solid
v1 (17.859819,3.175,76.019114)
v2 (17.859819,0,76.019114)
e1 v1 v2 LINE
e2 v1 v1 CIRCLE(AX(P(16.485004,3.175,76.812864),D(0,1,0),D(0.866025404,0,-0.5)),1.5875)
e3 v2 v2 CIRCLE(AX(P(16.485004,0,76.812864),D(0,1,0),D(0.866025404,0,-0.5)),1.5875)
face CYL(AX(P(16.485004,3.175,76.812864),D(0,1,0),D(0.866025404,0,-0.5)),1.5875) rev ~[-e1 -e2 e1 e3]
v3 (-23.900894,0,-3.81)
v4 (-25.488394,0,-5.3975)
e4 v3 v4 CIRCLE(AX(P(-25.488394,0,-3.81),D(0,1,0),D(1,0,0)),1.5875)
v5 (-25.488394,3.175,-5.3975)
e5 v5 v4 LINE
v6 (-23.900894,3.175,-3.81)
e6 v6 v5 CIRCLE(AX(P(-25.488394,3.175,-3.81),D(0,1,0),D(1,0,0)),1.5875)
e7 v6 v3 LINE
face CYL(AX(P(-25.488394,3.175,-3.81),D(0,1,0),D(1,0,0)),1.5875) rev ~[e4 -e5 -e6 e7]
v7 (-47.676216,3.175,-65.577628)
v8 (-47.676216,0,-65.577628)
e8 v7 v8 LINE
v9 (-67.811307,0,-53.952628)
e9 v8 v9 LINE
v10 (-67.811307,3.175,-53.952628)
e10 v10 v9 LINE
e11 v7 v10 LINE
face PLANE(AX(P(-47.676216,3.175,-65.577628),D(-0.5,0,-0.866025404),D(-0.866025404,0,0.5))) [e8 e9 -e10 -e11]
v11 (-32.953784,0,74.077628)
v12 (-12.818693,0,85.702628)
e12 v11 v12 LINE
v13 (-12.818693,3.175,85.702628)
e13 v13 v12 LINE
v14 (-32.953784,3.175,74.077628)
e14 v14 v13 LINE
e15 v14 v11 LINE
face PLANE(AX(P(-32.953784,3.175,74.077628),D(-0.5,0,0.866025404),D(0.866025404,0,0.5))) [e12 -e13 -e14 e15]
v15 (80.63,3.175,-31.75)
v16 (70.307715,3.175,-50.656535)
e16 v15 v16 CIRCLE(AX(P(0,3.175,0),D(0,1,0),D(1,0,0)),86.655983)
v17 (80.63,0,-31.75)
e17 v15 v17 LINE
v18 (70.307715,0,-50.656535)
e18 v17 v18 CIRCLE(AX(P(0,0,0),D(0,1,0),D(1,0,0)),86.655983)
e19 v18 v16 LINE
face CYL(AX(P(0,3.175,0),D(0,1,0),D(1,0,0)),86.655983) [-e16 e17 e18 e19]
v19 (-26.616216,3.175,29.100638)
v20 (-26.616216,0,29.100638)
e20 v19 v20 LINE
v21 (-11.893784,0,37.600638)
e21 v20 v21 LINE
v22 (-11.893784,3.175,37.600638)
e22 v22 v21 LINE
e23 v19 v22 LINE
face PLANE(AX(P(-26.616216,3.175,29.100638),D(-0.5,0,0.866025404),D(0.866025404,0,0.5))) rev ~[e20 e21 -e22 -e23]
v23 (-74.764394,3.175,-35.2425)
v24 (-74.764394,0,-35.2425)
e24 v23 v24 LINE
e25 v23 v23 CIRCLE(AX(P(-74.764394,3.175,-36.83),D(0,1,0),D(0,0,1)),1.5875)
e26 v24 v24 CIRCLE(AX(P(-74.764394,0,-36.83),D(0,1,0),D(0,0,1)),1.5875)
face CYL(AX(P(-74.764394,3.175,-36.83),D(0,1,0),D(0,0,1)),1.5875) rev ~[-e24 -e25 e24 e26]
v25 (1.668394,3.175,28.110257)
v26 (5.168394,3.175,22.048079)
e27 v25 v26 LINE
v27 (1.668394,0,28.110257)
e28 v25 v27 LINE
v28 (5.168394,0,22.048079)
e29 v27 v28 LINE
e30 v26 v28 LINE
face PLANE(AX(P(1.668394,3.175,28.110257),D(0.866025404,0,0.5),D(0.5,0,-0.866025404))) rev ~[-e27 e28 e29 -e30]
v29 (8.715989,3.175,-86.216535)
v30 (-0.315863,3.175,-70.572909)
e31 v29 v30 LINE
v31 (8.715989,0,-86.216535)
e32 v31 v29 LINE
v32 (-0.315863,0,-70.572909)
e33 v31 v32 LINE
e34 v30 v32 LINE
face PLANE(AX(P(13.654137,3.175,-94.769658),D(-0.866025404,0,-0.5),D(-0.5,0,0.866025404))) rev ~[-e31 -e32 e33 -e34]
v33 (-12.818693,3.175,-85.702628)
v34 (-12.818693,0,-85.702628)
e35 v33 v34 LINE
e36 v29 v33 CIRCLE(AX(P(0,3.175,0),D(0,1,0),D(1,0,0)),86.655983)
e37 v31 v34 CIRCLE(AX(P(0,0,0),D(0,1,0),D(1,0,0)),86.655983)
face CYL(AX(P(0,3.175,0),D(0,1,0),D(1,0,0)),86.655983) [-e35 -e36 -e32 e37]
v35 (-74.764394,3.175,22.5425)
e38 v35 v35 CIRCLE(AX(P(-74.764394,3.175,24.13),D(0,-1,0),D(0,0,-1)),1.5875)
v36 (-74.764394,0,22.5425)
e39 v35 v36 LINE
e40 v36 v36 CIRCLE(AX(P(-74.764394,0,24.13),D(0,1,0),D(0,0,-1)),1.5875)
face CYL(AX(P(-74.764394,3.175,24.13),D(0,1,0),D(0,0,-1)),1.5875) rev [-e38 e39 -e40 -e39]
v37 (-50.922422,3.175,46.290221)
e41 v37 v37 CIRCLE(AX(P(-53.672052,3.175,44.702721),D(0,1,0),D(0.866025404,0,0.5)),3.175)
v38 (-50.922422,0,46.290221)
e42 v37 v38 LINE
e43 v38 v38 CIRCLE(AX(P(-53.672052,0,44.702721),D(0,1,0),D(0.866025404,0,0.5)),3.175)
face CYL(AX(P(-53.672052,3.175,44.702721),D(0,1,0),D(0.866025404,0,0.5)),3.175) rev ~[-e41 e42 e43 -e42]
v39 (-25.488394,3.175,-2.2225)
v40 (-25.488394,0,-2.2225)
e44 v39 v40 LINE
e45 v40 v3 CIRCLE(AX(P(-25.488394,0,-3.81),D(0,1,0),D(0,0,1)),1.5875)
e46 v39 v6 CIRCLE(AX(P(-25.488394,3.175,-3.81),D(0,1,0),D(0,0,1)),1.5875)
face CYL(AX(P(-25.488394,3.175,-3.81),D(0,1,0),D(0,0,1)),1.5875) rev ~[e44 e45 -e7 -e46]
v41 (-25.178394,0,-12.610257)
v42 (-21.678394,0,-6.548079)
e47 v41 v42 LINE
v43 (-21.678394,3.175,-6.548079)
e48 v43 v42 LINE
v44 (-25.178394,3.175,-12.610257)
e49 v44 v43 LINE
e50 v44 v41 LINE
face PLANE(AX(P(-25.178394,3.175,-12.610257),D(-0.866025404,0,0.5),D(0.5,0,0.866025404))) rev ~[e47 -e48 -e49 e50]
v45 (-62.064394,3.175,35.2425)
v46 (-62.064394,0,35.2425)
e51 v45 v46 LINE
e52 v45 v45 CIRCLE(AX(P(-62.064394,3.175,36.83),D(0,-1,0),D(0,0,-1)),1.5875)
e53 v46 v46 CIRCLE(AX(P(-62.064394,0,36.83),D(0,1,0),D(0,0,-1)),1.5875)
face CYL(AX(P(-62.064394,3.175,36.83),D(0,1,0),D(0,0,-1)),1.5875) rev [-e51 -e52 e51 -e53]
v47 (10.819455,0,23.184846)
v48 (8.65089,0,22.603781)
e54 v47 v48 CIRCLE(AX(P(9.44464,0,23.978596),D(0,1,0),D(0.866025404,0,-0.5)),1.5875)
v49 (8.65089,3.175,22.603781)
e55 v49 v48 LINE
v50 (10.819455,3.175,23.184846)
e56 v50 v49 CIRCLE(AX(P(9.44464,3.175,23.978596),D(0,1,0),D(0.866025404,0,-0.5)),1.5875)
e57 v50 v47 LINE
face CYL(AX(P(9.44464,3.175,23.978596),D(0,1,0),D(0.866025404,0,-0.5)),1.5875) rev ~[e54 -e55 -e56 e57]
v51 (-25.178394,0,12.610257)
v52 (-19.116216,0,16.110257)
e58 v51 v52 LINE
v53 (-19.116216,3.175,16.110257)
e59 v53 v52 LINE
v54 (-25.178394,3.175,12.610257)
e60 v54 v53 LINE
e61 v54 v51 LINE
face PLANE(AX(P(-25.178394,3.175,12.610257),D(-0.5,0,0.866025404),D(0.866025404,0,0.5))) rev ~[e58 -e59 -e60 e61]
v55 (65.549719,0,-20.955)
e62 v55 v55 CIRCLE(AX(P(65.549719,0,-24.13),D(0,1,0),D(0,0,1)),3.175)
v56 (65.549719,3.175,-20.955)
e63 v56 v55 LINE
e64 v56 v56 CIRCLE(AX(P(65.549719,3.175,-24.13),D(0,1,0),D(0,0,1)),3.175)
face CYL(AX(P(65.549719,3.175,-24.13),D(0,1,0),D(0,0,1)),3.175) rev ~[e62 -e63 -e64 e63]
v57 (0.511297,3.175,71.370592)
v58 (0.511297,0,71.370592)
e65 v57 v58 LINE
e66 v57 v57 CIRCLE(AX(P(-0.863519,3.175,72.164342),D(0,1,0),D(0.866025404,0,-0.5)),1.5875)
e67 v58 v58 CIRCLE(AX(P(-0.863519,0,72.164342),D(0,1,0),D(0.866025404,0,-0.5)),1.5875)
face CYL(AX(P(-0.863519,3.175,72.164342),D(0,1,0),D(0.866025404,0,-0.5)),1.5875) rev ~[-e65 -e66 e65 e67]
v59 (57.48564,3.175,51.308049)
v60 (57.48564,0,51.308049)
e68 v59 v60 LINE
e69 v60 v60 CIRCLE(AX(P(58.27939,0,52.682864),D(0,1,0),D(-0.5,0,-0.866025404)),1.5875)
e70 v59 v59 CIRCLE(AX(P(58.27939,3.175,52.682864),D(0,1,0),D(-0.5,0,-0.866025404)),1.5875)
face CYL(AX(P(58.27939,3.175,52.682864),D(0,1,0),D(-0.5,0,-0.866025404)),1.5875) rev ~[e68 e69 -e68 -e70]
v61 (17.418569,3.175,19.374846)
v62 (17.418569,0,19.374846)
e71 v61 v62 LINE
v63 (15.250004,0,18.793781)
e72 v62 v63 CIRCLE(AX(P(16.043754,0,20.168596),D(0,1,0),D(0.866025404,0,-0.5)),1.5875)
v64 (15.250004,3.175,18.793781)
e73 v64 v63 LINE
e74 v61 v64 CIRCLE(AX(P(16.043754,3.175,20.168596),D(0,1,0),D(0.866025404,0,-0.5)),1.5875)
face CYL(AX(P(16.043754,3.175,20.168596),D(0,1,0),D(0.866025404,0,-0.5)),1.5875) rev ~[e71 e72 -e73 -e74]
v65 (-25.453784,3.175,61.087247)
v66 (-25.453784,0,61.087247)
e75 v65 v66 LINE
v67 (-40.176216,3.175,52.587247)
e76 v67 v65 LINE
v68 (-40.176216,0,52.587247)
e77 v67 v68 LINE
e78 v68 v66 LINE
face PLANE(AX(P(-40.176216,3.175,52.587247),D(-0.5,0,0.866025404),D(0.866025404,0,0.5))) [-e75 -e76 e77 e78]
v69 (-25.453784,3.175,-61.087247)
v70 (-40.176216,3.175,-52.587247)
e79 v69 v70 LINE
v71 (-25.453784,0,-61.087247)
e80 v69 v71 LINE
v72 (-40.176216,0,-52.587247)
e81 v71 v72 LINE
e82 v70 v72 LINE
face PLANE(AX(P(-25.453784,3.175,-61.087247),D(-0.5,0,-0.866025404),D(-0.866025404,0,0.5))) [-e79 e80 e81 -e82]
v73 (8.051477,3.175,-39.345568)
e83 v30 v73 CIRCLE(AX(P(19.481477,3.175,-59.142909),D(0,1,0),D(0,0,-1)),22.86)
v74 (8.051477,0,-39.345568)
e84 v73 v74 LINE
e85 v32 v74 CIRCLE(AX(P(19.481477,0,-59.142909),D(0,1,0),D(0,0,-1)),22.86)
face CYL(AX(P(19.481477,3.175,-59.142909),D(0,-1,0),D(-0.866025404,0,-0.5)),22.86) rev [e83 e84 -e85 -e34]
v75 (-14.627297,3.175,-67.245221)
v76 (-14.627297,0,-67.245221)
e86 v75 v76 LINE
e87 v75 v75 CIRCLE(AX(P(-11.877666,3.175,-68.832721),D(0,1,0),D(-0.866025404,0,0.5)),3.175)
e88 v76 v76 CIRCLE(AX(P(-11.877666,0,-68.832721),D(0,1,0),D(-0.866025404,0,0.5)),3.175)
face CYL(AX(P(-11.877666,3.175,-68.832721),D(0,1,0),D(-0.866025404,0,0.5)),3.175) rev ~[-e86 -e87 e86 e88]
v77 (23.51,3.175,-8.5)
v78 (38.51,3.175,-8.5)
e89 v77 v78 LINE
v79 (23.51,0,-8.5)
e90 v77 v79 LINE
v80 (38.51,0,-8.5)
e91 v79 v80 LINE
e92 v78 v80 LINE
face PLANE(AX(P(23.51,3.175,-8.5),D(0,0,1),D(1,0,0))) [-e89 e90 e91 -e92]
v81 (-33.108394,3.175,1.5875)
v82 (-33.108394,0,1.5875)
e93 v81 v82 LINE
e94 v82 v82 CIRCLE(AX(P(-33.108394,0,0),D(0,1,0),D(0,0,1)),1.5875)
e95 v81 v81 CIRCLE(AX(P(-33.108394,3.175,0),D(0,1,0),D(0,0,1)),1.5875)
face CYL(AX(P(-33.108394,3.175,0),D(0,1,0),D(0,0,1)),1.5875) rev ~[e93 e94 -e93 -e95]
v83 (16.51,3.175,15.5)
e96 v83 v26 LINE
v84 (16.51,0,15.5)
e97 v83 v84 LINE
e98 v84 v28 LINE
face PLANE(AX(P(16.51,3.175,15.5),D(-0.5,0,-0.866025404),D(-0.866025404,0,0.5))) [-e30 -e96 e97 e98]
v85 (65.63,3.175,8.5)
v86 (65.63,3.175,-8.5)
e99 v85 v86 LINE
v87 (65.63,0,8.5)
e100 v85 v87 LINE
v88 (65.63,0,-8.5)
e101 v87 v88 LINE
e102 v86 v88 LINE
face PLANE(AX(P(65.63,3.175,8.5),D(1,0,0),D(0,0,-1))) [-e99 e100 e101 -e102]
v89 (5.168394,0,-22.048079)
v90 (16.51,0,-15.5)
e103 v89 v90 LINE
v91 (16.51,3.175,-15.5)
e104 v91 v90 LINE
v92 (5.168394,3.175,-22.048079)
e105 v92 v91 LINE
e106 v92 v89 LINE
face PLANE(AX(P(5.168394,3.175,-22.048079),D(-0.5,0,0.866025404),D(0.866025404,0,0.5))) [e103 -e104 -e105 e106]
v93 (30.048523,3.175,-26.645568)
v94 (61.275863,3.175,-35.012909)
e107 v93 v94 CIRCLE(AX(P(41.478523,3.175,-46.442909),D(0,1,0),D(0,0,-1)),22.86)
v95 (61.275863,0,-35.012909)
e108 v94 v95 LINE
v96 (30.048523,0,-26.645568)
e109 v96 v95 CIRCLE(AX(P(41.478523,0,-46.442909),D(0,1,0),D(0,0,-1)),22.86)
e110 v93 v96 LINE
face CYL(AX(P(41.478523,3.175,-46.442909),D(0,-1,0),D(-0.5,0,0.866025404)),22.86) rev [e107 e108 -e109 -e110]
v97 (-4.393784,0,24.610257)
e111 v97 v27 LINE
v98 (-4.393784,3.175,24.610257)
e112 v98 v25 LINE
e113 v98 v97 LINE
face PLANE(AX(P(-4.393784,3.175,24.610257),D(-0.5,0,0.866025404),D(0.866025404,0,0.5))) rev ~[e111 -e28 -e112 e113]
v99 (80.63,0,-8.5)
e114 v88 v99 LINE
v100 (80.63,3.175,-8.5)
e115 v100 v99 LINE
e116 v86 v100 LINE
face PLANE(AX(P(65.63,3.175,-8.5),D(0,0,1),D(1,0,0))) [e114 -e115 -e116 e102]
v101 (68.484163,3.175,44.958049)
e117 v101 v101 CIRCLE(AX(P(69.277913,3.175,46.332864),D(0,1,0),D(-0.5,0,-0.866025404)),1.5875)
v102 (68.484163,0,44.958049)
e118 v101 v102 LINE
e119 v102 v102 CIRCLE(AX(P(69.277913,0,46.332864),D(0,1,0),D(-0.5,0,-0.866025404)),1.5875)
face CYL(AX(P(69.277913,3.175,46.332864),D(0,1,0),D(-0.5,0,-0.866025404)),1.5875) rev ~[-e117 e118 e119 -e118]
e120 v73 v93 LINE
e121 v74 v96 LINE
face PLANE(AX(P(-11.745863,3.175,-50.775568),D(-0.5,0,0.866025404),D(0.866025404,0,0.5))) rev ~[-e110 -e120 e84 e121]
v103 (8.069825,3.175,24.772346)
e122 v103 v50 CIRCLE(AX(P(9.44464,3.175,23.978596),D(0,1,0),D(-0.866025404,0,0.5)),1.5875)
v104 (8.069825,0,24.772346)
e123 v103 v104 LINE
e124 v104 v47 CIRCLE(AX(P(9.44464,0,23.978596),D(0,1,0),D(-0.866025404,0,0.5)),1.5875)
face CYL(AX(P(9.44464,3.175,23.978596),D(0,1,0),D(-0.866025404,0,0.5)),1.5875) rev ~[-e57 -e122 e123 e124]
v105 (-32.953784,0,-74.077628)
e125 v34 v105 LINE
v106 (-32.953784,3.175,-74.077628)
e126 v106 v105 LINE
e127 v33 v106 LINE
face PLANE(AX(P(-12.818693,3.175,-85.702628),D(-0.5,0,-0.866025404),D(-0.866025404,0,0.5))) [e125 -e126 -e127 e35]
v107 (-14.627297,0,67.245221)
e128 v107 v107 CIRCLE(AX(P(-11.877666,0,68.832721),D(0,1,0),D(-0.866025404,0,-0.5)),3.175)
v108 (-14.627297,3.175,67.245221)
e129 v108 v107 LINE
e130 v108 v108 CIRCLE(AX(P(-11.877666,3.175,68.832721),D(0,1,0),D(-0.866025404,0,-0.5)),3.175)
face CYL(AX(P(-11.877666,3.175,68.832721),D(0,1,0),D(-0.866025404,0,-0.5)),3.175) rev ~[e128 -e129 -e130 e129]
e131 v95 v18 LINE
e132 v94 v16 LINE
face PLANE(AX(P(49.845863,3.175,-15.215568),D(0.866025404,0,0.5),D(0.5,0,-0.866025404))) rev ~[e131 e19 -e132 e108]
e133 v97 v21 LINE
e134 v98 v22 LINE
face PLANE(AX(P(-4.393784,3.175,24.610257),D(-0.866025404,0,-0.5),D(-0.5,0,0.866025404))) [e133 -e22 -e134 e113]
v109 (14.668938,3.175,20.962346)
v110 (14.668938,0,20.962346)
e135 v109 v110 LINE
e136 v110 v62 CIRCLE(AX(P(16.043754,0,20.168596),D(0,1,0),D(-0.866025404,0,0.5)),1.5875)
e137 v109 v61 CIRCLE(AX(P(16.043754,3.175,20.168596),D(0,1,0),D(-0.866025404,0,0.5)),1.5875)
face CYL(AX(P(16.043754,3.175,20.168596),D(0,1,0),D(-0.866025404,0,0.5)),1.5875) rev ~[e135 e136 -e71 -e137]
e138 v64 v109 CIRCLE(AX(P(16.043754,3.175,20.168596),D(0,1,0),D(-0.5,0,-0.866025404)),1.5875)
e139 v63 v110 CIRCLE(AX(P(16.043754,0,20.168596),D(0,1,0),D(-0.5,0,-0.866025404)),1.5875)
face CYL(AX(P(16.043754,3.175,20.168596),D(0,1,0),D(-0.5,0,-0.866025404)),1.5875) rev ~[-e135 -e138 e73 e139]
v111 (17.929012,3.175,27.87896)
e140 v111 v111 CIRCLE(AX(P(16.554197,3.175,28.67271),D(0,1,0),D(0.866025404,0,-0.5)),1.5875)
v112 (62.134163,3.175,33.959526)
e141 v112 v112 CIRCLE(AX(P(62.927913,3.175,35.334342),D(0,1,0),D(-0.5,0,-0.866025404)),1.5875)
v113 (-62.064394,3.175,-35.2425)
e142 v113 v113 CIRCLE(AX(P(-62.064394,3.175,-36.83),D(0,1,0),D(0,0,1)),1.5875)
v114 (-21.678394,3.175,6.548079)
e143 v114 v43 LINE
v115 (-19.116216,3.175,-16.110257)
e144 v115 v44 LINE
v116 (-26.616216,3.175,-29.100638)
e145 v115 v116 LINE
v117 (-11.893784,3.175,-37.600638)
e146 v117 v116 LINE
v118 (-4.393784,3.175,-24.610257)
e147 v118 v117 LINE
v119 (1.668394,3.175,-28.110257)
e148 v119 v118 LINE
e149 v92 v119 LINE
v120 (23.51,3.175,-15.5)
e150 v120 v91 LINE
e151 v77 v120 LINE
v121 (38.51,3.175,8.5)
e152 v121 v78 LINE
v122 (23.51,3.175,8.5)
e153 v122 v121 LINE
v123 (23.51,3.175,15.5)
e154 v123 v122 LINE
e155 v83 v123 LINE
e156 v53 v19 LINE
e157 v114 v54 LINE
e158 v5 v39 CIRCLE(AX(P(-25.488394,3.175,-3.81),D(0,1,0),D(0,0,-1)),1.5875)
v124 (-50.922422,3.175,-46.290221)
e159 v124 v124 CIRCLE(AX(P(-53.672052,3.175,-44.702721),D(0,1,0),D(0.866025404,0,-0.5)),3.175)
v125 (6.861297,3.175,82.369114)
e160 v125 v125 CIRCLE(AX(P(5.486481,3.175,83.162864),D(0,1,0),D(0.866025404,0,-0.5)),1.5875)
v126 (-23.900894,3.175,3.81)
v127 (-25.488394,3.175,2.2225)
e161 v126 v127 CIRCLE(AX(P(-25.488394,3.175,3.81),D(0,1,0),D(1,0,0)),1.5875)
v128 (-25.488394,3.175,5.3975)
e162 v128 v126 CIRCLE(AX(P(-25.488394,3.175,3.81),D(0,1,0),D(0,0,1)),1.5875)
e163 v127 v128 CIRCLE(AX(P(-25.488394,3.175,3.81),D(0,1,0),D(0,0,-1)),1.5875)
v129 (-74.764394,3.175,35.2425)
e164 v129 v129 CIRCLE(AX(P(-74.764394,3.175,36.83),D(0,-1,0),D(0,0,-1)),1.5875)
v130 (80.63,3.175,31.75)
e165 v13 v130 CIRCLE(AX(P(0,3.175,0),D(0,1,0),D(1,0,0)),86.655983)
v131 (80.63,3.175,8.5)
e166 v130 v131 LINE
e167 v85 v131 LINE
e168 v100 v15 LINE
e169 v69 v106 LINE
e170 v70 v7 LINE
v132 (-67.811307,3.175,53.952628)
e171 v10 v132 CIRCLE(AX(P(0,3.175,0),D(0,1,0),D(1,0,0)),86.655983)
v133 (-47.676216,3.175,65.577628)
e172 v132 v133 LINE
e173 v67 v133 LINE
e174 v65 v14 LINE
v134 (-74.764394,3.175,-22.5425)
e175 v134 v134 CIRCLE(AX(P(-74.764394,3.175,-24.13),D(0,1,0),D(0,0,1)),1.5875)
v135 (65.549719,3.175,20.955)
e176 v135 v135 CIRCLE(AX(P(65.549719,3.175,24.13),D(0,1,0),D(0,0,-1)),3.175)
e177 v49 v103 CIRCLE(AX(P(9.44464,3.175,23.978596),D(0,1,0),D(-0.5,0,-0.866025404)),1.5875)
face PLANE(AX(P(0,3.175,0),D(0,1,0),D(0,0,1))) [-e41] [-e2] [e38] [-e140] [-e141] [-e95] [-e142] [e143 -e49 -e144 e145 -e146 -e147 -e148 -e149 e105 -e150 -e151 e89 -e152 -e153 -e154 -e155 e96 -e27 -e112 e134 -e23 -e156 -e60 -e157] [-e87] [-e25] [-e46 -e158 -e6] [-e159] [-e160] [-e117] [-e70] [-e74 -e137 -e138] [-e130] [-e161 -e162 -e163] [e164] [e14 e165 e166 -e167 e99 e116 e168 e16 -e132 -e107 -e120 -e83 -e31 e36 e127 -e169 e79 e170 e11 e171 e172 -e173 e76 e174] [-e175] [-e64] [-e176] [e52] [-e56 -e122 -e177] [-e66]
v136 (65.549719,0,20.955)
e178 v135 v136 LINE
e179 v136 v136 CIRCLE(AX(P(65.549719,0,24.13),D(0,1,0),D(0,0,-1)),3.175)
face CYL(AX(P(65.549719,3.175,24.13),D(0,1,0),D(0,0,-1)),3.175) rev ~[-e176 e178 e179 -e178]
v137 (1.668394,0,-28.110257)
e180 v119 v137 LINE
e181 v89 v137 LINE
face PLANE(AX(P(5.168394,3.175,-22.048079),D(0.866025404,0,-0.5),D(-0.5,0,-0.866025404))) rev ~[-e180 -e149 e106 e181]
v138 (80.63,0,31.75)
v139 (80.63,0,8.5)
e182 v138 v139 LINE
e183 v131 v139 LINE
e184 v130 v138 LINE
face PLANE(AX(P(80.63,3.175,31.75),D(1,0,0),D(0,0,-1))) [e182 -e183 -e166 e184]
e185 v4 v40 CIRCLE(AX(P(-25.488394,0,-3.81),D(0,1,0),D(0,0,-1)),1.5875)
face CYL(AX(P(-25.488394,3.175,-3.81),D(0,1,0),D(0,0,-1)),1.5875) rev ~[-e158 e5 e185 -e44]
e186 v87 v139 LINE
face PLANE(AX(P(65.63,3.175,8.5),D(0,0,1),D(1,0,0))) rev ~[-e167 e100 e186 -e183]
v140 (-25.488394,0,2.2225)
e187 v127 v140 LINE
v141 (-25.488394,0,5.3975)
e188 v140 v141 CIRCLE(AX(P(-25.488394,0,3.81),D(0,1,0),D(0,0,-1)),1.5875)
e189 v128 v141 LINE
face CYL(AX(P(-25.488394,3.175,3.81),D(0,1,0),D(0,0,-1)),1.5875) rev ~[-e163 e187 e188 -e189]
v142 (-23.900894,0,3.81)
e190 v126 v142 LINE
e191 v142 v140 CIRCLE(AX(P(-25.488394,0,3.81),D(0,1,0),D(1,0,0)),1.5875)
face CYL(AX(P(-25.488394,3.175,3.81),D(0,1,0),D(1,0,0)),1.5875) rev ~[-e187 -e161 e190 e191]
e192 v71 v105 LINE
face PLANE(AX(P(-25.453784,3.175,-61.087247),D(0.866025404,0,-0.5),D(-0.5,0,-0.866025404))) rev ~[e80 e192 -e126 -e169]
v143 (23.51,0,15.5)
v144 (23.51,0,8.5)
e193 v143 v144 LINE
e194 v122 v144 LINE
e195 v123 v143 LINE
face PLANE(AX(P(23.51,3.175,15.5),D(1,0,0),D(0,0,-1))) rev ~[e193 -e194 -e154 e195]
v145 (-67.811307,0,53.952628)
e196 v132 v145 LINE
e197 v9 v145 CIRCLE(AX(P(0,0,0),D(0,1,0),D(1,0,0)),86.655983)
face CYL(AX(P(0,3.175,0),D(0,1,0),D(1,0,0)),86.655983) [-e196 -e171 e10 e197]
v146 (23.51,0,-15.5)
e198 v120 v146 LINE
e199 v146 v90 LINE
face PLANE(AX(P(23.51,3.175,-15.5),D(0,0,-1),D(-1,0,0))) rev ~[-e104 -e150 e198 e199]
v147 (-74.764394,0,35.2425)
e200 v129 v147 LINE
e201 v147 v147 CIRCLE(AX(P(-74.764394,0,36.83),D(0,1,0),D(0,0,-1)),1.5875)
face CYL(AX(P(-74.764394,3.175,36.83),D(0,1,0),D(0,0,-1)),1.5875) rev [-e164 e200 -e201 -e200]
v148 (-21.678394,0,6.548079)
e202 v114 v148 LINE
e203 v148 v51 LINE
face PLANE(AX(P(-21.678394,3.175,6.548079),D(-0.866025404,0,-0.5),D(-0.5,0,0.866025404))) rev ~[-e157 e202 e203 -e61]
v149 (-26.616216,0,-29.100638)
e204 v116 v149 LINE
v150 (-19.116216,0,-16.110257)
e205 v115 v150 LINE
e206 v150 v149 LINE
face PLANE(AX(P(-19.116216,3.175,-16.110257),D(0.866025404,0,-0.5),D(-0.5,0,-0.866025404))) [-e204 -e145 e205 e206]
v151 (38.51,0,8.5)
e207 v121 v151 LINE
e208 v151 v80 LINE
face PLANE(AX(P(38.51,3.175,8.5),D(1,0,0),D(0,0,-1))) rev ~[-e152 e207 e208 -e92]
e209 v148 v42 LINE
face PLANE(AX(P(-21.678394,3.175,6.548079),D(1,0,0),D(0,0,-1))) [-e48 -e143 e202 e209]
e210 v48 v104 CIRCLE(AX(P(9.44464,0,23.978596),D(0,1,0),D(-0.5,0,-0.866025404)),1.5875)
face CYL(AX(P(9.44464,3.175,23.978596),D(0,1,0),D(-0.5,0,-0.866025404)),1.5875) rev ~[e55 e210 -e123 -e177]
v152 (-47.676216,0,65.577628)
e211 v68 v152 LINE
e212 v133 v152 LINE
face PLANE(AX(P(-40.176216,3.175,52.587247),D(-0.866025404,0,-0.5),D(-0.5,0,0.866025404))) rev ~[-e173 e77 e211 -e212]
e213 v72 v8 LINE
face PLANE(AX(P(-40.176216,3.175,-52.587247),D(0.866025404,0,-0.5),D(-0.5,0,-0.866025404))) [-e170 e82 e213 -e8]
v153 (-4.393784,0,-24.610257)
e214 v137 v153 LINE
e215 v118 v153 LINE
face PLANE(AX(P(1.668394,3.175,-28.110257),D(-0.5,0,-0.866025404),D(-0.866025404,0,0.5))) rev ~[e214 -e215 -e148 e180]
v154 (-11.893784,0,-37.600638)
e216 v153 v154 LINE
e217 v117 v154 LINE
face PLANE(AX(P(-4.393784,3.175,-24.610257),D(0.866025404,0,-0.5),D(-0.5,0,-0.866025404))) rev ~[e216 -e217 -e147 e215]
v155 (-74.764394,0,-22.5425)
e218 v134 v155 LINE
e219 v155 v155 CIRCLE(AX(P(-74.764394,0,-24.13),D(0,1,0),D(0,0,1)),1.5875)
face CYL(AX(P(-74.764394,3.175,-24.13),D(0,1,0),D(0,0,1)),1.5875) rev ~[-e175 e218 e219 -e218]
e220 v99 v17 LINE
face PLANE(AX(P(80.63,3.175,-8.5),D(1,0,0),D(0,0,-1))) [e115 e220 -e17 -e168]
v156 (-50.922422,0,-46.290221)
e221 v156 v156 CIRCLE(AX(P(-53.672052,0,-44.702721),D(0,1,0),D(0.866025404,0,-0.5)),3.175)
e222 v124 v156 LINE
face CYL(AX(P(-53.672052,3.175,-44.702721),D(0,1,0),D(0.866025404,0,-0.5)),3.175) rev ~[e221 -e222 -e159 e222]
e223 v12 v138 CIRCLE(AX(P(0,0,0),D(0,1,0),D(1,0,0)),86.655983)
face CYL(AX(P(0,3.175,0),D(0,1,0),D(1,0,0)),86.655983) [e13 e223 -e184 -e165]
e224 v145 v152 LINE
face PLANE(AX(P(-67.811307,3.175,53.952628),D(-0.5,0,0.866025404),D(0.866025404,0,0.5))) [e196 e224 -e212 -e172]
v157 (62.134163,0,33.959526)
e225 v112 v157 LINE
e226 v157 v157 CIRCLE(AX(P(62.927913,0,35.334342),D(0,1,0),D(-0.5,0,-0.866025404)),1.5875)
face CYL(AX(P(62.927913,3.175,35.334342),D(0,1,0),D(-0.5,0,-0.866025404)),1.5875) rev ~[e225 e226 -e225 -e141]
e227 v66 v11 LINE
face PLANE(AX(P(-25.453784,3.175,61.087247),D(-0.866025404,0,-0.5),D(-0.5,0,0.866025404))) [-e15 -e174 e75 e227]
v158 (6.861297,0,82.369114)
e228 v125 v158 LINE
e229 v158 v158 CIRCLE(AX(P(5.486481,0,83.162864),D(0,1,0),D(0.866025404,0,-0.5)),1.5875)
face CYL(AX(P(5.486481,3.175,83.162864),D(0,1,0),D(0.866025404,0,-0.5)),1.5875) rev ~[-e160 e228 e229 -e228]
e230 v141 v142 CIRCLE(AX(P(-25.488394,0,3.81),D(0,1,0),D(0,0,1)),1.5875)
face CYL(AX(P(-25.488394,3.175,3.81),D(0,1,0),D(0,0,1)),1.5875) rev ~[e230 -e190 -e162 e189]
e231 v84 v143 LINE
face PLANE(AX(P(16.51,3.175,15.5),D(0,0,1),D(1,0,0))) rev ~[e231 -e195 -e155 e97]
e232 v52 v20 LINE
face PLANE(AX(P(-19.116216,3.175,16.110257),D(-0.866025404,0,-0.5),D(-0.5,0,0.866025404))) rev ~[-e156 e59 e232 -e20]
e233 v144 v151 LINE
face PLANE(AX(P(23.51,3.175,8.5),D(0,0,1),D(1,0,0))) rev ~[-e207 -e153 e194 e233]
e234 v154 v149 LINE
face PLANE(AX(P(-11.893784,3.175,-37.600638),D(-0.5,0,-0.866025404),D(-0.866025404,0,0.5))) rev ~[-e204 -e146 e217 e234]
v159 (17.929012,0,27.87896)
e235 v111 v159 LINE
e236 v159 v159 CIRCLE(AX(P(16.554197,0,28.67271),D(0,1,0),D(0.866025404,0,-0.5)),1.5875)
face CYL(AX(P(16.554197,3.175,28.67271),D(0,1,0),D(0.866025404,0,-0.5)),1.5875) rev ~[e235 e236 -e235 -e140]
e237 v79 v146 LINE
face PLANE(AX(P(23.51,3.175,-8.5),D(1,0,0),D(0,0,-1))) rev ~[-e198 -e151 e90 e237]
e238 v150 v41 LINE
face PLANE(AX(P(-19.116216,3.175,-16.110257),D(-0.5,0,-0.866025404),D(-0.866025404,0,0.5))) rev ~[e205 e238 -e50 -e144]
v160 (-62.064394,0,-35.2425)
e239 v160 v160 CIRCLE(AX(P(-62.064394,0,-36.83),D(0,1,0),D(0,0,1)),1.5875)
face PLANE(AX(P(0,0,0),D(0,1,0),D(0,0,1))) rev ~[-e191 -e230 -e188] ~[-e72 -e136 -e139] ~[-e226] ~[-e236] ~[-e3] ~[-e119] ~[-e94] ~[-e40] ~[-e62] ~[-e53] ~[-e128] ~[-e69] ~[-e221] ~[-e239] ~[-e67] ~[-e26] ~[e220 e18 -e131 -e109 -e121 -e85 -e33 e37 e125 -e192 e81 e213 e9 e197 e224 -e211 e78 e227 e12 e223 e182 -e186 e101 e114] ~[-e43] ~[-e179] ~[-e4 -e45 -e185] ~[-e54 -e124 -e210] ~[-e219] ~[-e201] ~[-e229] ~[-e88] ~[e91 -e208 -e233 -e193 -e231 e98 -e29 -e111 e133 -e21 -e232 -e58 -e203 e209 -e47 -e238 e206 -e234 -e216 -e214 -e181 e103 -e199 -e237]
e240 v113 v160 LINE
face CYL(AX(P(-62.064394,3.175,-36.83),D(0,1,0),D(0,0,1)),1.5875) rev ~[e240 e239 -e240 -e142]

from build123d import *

# Parameters (mm, degrees)
SKETCH2_R                   = 88.9
BOSS_EXTRUDE1_DEPTH         = 3.175
SKETCH4_W                   = 15
SKETCH4_H                   = 17
SKETCH4_W_2                 = 21.412198496
SKETCH4_H_2                 = 63.5
CUT_EXTRUDE2_DEPTH          = 126.763669734
CIRPATTERN1_COUNT           = 3
CUT_EXTRUDE3_DEPTH          = 126.763669734
SKETCH8_R                   = 94.275983059
SKETCH8_R_2                 = 86.655983059
CUT_EXTRUDE_THIN1_DEPTH     = 126.763669734
SKETCH9_R                   = 3.175
CUT_EXTRUDE4_DEPTH          = 123.591188203
CIRPATTERN2_COUNT           = 3
SKETCH11_R                  = 1.5875
CUT_EXTRUDE6_DEPTH          = 123.591188203
CIRPATTERN3_COUNT           = 2
CIRPATTERN3_ANGLE           = 120
CIRPATTERN3_COPY_1_SKETCH_R = 1.5875
CIRPATTERN3_COPY_1_DEPTH    = 123.591188203
SKETCH12_R                  = 1.5875
CUT_EXTRUDE7_DEPTH          = 123.591188203
CIRPATTERN4_COUNT           = 2
CIRPATTERN4_ANGLE           = 120
CUT_EXTRUDE8_DEPTH          = 150
FILLET1_R                   = 22.86


with BuildPart() as part:
    # Sketch2 → Boss-Extrude1 (new body)
    with BuildSketch(Plane(origin=(0, 0, 0), x_dir=(1, 0, 0), z_dir=(0, 1, 0))):
        with Locations(Location((0, 0, 0), (0, 0, 270))):
            Circle(SKETCH2_R)
    extrude(amount=BOSS_EXTRUDE1_DEPTH)

    # Sketch4 → Cut-Extrude2 (cut, through all)
    with BuildSketch(Plane(origin=(0, 3.175, 0), x_dir=(1, 0, 0), z_dir=(0, 1, 0))):
        Polygon((23.51, 15.5), (16.51, 15.5), (16.51, -15.5), (23.51, -15.5), (23.51, -8.5), (23.51, 8.5), align=None)
        with Locations((73.13, 0)):
            Rectangle(SKETCH4_W, SKETCH4_H)
        with Locations((31.01, 0)):
            Rectangle(SKETCH4_W, SKETCH4_H)
        with Locations((91.336099248, 0)):
            Rectangle(SKETCH4_W_2, SKETCH4_H_2)
    cut_extrude2 = extrude(amount=-CUT_EXTRUDE2_DEPTH, mode=Mode.SUBTRACT)

    # CirPattern1: Cut-Extrude2 ×3 about axis
    cirpattern1_axis = Axis((0, 0, 0), (0, 1, 0))
    for i in range(1, CIRPATTERN1_COUNT):
        add(cut_extrude2.rotate(cirpattern1_axis, i * 360 / CIRPATTERN1_COUNT), mode=Mode.SUBTRACT)

    # Sketch6 → Cut-Extrude3 (cut, through all)
    with BuildSketch(Plane(origin=(0, 3.175, 0), x_dir=(1, 0, 0), z_dir=(0, 1, 0))):
        Polygon((-21.678393759, -6.548079416), (-21.678393759, 6.548079416), (5.168393759, 22.048079416), (16.51, 15.5), (16.51, -15.5), (5.168393759, -22.048079416), align=None)
    extrude(amount=-CUT_EXTRUDE3_DEPTH, mode=Mode.SUBTRACT)

    # Sketch8 → Cut-Extrude-Thin1 (cut, through all)
    with BuildSketch(Plane(origin=(0, 3.175, 0), x_dir=(1, 0, 0), z_dir=(0, 1, 0))):
        Circle(SKETCH8_R)
        Circle(SKETCH8_R_2, mode=Mode.SUBTRACT)
    extrude(amount=-CUT_EXTRUDE_THIN1_DEPTH, mode=Mode.SUBTRACT)

    # Sketch9 → Cut-Extrude4 (cut, through all)
    with BuildSketch(Plane(origin=(0, 3.175, 0), x_dir=(1, 0, 0), z_dir=(0, 1, 0))):
        with Locations(Location((65.549718535, 24.13, 0), (0, 0, 270))):
            Circle(SKETCH9_R)
        with Locations(Location((65.549718535, -24.13, 0), (0, 0, 90))):
            Circle(SKETCH9_R)
    cut_extrude4 = extrude(amount=-CUT_EXTRUDE4_DEPTH, mode=Mode.SUBTRACT)

    # CirPattern2: Cut-Extrude4 ×3 about axis
    cirpattern2_axis = Axis((0, 0, 0), (0, 1, 0))
    for i in range(1, CIRPATTERN2_COUNT):
        add(cut_extrude4.rotate(cirpattern2_axis, i * 360 / CIRPATTERN2_COUNT), mode=Mode.SUBTRACT)

    # Sketch11 → Cut-Extrude6 (cut, through all)
    with BuildSketch(Plane(origin=(0, 3.175, 0), x_dir=(1, 0, 0), z_dir=(0, 1, 0))):
        with Locations(Location((-74.764393759, 36.83, 0), (0, 0, 270))):
            Circle(SKETCH11_R)
        with Locations(Location((-62.064393759, 36.83, 0), (0, 0, 270))):
            Circle(SKETCH11_R)
        with Locations(Location((-74.764393759, 24.13, 0), (0, 0, 270))):
            Circle(SKETCH11_R)
    cut_extrude6 = extrude(amount=-CUT_EXTRUDE6_DEPTH, mode=Mode.SUBTRACT)

    # Mirror1: Cut-Extrude6 across plane
    add(cut_extrude6.mirror(Plane.XY), mode=Mode.SUBTRACT)

    # CirPattern3: Cut-Extrude6 ×2 about axis
    cirpattern3_axis = Axis((0, 0, 0), (0, 1, 0))
    for i in range(1, CIRPATTERN3_COUNT):
        add(cut_extrude6.rotate(cirpattern3_axis, i * CIRPATTERN3_ANGLE / (CIRPATTERN3_COUNT - 1)), mode=Mode.SUBTRACT)

    # CirPattern3 copy 1 sketch → CirPattern3 copy 1 (cut, through all)
    with BuildSketch(Plane(origin=(0, 3.175, 0), x_dir=(-0.5000000000000044, 0, -0.866025403784436), z_dir=(0, 1, 0))):
        with Locations((-74.764393759, -36.83)):
            Circle(CIRPATTERN3_COPY_1_SKETCH_R)
        with Locations((-62.064393759, -36.83)):
            Circle(CIRPATTERN3_COPY_1_SKETCH_R)
        with Locations((-74.764393759, -24.13)):
            Circle(CIRPATTERN3_COPY_1_SKETCH_R)
    extrude(amount=-CIRPATTERN3_COPY_1_DEPTH, mode=Mode.SUBTRACT)

    # Sketch12 → Cut-Extrude7 (cut, through all)
    with BuildSketch(Plane(origin=(0, 3.175, 0), x_dir=(1, 0, 0), z_dir=(0, 1, 0))):
        with Locations(Location((-33.108393759, 0, 0), (0, 0, 270))):
            Circle(SKETCH12_R)
        with BuildLine():
            ThreePointArc((-25.488393759, 5.3975), (-27.075893759, 3.81), (-25.488393759, 2.2225))
            Line((-25.488393759, 2.2225), (-25.488393759, 5.3975))
        make_face()
        with BuildLine():
            Line((-25.488393759, 5.3975), (-25.488393759, 2.2225))
            ThreePointArc((-25.488393759, 2.2225), (-24.365861744, 2.687467985), (-23.900893759, 3.81))
            ThreePointArc((-23.900893759, 3.81), (-24.365861744, 4.932532015), (-25.488393759, 5.3975))
        make_face()
        with BuildLine():
            ThreePointArc((-25.488393759, -2.2225), (-27.075893759, -3.81), (-25.488393759, -5.3975))
            Line((-25.488393759, -5.3975), (-25.488393759, -2.2225))
        make_face()
        with BuildLine():
            Line((-25.488393759, -2.2225), (-25.488393759, -5.3975))
            ThreePointArc((-25.488393759, -5.3975), (-24.365861744, -4.932532015), (-23.900893759, -3.81))
            ThreePointArc((-23.900893759, -3.81), (-24.365861744, -2.687467985), (-25.488393759, -2.2225))
        make_face()
    cut_extrude7 = extrude(amount=-CUT_EXTRUDE7_DEPTH, mode=Mode.SUBTRACT)

    # CirPattern4: Cut-Extrude7 ×2 about axis
    cirpattern4_axis = Axis((0, 0, 0), (0, 1, 0))
    for i in range(1, CIRPATTERN4_COUNT):
        add(cut_extrude7.rotate(cirpattern4_axis, i * CIRPATTERN4_ANGLE / (CIRPATTERN4_COUNT - 1)), mode=Mode.SUBTRACT)

    # Sketch10 → Cut-Extrude8 (cut)
    with BuildSketch(Plane(origin=(0, 3.175, 0), x_dir=(1, 0, 0), z_dir=(0, 1, 0))):
        Polygon((49.845863359, 15.215567884), (75.245863359, 59.209658396), (13.654136641, 94.769658396), (-11.745863359, 50.775567884), align=None)
    extrude(amount=-CUT_EXTRUDE8_DEPTH, mode=Mode.SUBTRACT)

    # Fillet1
    fillet1_edges = [part.edges().sort_by_distance(p)[0] for p in [
        (49.845863359, 1.5875, -15.215567884),
        (-11.745863359, 1.5875, -50.775567884),
    ]]
    fillet(fillet1_edges, radius=FILLET1_R)


solid = part.part
